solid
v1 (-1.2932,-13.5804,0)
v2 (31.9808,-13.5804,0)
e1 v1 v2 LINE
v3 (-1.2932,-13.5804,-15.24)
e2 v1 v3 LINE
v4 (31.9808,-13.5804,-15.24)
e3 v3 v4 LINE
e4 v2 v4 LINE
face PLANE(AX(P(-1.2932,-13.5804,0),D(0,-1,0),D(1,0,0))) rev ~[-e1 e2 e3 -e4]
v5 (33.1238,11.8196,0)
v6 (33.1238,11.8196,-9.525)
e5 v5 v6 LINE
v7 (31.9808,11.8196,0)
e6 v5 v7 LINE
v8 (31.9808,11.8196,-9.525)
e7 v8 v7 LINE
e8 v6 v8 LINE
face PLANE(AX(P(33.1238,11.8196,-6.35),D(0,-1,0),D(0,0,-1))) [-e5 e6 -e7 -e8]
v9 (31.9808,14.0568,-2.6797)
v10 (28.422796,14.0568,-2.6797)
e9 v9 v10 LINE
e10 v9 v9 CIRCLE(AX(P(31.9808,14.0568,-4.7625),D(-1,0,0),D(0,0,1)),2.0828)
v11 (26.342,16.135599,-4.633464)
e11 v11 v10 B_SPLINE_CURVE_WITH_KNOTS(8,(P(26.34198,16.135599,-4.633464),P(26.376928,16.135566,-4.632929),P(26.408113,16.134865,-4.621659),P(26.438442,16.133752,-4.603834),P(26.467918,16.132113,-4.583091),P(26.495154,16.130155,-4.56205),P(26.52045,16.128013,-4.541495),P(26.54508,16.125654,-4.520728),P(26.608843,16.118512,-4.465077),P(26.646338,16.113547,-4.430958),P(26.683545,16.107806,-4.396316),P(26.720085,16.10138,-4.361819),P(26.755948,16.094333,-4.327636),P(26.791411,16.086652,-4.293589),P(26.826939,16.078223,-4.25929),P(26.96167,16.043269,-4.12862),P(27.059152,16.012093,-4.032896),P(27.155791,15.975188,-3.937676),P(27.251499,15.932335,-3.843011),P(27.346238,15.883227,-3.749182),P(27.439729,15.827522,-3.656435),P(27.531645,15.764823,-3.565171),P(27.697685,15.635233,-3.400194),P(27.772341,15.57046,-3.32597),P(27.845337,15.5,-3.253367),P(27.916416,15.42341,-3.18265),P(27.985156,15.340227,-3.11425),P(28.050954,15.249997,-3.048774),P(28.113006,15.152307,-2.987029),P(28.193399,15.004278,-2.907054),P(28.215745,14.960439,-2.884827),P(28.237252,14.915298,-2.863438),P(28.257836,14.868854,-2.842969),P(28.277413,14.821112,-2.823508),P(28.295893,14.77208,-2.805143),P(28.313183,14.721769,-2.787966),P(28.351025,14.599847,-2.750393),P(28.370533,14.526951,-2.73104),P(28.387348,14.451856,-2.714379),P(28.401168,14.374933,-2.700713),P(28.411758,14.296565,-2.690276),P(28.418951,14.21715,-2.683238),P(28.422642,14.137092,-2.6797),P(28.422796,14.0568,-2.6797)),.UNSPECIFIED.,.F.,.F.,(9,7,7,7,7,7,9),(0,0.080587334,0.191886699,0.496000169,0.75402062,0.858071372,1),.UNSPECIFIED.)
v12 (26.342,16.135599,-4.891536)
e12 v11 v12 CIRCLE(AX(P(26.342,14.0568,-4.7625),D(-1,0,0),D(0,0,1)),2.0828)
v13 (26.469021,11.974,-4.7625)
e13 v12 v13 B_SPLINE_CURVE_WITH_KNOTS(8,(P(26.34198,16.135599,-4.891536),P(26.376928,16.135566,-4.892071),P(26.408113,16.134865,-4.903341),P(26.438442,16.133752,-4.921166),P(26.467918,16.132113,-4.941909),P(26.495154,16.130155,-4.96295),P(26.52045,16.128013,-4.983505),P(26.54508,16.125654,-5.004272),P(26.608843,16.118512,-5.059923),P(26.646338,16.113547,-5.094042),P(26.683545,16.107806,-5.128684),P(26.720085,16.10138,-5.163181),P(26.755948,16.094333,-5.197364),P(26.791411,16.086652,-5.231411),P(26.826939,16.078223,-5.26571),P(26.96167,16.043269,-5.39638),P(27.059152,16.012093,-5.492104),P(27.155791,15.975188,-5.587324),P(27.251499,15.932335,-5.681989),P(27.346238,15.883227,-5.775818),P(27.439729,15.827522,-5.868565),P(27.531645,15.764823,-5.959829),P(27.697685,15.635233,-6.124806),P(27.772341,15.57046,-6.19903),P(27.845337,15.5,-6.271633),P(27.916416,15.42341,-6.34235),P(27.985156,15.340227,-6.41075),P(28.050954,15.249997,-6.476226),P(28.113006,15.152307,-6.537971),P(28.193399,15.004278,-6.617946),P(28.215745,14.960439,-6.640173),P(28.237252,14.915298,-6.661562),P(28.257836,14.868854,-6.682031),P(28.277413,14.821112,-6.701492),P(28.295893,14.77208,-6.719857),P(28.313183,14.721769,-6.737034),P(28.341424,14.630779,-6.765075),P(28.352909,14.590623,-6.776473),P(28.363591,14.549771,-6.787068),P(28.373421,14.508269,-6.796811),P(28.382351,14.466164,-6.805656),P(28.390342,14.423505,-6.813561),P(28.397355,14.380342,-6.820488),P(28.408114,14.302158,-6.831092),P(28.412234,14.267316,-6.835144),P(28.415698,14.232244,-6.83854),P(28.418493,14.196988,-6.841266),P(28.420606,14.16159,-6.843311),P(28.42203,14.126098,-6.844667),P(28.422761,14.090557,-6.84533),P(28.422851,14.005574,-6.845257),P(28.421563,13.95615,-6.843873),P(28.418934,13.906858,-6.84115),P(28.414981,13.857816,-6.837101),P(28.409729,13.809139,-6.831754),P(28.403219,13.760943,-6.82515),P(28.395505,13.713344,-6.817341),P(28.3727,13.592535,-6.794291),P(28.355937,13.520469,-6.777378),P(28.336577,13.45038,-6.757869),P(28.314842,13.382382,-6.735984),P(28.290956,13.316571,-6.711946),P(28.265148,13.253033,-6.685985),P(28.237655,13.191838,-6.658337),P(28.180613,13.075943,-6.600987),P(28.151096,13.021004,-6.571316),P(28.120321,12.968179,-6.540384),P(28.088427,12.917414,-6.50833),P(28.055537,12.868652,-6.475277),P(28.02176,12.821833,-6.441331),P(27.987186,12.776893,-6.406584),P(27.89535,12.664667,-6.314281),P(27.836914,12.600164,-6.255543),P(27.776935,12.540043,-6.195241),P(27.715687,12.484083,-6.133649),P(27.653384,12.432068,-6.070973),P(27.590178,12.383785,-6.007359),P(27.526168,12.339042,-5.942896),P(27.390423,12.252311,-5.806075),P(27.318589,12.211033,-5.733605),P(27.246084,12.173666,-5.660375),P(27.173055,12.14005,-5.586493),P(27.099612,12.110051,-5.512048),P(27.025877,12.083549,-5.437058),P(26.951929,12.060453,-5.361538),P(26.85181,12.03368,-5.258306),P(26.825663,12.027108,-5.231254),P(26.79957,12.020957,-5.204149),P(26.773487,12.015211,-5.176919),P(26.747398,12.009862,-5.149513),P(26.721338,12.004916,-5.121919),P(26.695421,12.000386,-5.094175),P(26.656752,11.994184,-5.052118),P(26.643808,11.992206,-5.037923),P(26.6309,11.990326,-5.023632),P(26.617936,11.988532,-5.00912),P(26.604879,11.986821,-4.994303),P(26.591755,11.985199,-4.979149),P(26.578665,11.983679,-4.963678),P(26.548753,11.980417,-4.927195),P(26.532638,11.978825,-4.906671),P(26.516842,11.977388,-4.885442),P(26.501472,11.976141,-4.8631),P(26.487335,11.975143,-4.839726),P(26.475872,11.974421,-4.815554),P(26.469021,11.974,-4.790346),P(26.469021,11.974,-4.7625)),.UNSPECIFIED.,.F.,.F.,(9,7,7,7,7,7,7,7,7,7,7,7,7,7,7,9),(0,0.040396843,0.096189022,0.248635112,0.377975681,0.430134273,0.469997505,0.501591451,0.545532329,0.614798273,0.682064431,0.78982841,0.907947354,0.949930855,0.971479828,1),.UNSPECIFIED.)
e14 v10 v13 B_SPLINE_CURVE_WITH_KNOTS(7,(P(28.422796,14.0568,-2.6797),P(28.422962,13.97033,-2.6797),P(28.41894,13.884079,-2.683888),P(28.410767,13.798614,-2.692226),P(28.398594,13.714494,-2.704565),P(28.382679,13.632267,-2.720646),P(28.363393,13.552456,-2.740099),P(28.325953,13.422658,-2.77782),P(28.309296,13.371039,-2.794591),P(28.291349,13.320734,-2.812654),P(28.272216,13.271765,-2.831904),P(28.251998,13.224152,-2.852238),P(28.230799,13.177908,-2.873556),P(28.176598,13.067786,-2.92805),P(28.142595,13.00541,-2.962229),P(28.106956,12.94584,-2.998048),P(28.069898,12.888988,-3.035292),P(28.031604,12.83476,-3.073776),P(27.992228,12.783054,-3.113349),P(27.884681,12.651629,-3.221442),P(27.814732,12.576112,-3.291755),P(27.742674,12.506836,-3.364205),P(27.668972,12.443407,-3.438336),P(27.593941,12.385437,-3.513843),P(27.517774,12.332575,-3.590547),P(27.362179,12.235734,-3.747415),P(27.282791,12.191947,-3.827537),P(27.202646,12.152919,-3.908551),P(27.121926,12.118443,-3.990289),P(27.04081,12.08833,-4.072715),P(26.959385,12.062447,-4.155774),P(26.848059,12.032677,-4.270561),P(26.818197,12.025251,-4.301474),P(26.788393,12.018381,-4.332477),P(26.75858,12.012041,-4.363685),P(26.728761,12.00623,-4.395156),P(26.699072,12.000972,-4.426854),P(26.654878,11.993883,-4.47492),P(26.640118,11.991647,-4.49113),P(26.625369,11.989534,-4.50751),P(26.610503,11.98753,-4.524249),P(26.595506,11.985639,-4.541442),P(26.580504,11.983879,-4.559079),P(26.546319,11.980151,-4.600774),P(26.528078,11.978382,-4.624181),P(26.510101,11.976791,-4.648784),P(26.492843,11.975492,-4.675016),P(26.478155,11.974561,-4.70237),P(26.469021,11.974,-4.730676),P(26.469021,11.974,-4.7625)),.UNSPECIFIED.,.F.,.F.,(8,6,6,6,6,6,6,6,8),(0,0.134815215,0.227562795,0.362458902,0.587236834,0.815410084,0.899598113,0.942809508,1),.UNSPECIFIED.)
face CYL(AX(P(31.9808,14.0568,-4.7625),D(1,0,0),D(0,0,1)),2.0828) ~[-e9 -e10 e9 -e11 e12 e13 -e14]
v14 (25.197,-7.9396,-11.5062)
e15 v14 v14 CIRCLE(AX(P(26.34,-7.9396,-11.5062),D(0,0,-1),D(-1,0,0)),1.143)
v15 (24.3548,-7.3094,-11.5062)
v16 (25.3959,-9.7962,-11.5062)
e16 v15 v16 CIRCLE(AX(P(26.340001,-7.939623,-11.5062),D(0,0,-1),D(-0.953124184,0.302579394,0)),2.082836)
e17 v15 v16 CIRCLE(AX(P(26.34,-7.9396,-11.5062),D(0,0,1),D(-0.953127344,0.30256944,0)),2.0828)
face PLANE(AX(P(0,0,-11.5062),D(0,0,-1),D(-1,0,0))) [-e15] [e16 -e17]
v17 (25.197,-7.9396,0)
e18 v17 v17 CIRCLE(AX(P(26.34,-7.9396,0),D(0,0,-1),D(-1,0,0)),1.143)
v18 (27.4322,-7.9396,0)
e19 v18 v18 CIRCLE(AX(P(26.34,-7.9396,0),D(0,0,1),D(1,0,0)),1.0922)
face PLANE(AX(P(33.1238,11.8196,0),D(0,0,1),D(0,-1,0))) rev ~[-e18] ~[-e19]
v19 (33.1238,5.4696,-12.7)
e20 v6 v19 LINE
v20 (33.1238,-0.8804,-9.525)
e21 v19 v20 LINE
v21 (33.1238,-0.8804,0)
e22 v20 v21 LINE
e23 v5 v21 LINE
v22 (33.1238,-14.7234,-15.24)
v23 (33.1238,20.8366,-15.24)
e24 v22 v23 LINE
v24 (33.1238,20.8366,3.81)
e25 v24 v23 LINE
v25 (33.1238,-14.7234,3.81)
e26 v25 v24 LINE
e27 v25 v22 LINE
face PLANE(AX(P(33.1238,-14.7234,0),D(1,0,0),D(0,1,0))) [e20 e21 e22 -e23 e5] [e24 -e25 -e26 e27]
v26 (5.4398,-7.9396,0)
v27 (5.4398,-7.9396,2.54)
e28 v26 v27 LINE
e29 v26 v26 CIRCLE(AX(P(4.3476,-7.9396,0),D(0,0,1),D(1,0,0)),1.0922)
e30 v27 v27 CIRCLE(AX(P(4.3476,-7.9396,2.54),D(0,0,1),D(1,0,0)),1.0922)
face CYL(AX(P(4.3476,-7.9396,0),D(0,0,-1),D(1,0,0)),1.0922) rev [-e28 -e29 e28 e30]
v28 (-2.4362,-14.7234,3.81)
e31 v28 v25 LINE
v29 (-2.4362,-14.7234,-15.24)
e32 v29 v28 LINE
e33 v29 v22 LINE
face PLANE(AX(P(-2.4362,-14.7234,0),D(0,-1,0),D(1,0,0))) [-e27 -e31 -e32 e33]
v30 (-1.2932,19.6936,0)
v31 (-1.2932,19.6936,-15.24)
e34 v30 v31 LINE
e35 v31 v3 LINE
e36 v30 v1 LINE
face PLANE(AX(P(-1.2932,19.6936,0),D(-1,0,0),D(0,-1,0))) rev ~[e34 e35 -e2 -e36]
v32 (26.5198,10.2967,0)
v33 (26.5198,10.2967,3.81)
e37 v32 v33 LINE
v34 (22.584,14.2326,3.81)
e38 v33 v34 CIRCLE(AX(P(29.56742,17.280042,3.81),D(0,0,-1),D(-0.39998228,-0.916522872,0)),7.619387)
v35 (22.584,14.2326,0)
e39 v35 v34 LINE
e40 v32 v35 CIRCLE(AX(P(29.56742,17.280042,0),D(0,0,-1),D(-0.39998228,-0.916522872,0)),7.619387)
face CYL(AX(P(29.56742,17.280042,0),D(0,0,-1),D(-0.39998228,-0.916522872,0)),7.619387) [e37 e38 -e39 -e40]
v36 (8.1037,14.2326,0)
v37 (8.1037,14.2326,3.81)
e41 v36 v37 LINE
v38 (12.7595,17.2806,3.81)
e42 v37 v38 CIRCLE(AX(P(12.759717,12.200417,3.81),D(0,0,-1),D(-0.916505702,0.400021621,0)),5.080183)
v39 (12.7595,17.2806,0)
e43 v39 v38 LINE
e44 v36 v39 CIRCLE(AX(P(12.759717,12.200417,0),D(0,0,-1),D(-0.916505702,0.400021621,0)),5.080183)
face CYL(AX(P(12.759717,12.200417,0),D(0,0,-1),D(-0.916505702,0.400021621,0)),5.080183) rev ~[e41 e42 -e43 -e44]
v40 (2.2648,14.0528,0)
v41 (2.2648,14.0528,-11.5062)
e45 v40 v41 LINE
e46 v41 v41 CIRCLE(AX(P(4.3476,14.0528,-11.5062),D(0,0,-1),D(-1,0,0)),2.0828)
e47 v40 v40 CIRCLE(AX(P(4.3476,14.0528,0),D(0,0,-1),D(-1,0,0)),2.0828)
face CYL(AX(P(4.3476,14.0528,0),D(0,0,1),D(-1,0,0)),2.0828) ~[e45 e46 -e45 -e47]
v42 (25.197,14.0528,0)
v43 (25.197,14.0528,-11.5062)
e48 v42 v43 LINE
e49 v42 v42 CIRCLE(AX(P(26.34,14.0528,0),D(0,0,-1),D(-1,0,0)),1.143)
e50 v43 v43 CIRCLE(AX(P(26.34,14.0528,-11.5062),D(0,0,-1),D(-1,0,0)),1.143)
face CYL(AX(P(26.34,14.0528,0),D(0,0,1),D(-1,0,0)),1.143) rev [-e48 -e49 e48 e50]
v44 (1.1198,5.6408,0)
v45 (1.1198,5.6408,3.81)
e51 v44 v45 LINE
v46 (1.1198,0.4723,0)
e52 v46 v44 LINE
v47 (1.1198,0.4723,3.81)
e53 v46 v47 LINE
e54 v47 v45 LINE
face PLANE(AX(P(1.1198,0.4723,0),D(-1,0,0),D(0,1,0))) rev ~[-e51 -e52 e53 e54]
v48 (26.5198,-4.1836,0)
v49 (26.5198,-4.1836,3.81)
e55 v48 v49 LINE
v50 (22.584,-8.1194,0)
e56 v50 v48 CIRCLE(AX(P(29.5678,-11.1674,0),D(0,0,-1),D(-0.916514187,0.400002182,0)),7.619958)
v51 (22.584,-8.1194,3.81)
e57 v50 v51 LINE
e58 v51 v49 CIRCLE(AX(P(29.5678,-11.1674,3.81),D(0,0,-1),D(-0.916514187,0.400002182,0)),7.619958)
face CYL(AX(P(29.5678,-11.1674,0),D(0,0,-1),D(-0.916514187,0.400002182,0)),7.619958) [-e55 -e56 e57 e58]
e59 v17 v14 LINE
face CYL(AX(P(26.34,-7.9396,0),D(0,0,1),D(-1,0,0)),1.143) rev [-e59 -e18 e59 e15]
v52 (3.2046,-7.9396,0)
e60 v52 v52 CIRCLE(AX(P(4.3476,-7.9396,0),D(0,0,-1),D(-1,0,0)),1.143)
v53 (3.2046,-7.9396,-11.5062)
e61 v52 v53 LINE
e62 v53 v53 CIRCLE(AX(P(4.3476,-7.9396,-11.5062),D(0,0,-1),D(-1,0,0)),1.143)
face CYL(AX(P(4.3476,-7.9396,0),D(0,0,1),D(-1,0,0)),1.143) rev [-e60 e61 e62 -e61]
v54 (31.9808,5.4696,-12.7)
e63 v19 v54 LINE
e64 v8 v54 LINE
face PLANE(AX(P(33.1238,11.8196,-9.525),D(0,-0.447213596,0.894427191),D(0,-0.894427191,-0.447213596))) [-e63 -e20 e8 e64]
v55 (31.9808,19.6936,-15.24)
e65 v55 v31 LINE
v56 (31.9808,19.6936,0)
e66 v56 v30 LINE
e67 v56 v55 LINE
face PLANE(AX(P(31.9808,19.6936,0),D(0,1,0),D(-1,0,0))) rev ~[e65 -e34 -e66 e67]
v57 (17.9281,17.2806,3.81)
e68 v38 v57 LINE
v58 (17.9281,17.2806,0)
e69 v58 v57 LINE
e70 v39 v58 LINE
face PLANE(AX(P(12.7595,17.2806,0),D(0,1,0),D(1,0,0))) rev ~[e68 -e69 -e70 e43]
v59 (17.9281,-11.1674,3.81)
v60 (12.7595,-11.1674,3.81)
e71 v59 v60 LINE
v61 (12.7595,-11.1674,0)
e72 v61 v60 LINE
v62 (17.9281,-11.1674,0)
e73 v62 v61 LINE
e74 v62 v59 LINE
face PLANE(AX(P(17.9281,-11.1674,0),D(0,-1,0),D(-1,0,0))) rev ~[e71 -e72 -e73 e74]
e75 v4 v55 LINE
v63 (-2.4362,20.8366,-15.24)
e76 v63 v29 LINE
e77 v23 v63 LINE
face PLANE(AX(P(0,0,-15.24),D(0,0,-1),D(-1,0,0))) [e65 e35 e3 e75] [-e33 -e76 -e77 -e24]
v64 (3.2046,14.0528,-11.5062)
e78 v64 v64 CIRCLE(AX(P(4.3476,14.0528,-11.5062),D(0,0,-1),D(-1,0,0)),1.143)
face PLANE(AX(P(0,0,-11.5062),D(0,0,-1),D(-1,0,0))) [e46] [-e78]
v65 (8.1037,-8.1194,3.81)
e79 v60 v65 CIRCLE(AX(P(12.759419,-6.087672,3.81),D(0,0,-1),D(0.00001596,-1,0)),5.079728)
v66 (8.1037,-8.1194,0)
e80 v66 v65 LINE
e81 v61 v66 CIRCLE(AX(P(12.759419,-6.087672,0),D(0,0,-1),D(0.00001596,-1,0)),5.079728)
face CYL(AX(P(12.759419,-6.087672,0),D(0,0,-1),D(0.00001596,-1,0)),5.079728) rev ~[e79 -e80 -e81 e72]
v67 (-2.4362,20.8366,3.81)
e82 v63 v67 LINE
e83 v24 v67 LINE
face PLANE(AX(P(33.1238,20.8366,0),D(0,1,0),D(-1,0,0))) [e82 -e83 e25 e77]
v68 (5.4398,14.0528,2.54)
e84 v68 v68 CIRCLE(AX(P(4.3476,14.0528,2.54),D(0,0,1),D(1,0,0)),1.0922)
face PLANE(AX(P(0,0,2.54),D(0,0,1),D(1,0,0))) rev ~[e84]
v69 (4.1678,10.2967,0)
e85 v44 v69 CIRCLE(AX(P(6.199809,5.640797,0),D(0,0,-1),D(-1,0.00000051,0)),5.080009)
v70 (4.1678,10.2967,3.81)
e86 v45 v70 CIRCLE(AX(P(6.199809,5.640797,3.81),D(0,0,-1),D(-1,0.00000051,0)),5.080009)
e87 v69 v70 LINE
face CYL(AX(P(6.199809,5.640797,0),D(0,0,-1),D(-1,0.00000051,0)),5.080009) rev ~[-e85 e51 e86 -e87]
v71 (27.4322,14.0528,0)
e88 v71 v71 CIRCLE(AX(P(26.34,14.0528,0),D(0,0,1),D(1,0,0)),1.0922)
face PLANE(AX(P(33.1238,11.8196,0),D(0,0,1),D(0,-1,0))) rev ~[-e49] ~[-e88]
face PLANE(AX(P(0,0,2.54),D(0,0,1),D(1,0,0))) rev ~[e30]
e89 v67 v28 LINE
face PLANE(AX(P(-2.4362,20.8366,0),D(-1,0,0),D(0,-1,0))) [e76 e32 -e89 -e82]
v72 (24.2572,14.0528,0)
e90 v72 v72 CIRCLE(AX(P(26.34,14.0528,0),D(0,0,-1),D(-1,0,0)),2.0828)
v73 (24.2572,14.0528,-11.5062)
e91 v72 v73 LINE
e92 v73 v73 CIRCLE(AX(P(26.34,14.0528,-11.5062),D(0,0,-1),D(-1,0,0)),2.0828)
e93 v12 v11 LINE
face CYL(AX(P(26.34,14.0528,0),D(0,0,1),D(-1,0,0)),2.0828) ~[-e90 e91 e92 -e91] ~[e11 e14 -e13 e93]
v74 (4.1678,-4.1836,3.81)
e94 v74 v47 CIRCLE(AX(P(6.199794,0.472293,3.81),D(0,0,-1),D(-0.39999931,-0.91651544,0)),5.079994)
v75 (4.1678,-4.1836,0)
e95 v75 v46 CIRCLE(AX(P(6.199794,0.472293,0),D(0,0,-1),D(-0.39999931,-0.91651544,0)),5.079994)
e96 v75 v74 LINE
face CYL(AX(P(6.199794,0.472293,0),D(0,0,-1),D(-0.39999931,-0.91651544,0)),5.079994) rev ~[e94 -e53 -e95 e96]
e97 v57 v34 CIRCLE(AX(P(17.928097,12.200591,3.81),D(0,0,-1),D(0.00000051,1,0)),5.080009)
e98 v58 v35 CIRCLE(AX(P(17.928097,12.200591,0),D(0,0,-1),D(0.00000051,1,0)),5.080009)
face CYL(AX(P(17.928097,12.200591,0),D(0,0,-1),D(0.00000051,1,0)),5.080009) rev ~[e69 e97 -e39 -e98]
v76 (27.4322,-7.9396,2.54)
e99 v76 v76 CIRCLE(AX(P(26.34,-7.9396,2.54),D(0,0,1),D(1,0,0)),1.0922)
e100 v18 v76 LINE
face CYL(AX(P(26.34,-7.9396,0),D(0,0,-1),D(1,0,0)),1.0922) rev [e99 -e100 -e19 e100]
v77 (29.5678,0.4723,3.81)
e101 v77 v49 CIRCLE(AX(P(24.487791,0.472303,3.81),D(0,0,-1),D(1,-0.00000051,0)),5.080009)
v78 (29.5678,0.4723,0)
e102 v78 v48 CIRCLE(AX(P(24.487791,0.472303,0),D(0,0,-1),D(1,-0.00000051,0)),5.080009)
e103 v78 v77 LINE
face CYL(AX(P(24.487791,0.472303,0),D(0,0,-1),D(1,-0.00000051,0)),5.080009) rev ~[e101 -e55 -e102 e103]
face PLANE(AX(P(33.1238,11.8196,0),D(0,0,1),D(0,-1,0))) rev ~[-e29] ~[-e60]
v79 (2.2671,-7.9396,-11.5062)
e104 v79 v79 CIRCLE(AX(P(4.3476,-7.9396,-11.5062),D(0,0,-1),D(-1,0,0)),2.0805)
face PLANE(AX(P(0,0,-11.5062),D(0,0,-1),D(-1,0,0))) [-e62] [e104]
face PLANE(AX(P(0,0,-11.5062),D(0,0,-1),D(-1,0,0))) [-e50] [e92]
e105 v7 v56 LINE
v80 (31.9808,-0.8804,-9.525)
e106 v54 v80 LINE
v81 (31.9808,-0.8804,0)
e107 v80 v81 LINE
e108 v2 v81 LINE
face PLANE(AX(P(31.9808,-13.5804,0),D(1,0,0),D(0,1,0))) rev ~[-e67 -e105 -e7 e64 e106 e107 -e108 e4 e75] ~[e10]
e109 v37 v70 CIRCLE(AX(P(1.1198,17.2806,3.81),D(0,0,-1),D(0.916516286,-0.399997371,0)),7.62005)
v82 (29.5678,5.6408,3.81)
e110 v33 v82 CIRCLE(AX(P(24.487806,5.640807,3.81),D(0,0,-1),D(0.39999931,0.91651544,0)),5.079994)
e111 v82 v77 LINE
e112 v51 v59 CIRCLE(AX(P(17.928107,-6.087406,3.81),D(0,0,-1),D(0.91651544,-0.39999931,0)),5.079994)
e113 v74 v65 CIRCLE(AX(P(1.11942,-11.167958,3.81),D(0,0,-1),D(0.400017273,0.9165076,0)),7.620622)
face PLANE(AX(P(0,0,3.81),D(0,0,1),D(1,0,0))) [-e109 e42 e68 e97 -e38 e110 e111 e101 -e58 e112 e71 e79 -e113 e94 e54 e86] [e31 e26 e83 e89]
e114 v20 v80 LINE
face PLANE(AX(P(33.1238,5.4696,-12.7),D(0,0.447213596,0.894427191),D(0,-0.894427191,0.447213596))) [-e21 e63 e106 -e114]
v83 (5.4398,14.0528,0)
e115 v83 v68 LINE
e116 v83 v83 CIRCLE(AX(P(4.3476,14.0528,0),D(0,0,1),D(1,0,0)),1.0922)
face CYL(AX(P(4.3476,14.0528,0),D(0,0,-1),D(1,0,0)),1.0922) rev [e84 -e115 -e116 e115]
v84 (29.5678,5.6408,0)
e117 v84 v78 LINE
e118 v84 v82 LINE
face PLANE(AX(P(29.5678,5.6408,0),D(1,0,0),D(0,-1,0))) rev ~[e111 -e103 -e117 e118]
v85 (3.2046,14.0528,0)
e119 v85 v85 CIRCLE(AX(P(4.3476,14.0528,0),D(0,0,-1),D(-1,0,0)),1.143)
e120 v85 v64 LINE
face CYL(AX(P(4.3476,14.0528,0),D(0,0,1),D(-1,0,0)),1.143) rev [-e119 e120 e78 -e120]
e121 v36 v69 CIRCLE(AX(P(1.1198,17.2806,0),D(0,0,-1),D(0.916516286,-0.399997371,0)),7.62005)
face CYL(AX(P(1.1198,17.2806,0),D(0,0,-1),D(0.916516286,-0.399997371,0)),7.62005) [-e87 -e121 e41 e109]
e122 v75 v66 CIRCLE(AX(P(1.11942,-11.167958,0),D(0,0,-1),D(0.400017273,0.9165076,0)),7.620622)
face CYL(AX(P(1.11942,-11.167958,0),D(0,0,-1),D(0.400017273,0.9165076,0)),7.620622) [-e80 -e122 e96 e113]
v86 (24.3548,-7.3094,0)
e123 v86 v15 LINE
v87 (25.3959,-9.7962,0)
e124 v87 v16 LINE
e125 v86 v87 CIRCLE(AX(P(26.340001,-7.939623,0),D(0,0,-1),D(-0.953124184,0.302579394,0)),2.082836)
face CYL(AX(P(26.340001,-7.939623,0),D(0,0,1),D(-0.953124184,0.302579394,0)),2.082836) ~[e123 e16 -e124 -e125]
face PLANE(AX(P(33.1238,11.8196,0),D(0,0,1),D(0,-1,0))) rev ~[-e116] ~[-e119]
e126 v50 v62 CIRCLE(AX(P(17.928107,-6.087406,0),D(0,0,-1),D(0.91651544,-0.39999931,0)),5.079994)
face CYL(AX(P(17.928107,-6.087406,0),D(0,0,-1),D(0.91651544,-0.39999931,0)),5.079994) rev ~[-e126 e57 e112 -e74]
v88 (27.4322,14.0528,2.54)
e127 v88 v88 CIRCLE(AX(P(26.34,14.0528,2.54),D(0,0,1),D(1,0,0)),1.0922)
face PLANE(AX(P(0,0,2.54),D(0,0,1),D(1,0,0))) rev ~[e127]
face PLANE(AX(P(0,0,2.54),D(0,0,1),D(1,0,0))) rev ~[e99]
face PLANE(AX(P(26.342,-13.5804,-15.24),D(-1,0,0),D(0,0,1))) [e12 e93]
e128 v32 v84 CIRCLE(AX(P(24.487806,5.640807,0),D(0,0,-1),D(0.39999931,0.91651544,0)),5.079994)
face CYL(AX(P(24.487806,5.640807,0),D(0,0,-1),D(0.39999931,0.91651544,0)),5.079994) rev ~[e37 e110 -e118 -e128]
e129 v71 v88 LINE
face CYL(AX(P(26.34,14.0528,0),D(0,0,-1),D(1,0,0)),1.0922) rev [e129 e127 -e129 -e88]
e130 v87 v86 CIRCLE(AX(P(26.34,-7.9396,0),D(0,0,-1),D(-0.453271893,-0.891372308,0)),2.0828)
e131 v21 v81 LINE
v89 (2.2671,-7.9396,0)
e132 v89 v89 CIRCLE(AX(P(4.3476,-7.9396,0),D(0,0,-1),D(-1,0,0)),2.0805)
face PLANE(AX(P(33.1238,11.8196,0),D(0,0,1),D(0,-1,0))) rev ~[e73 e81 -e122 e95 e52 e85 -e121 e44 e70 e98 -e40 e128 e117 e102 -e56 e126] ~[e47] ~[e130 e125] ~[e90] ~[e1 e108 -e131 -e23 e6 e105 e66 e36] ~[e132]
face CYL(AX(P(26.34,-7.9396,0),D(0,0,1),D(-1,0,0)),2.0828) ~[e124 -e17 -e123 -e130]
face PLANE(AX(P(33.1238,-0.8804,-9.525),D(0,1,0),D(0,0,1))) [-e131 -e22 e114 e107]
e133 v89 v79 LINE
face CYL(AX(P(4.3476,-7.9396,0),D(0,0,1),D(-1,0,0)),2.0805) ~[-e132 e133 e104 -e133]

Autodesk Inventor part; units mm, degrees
ref_plane "YZ Plane" through (0, 0, 0) normal (1, 0, 0) x (0, 1, 0)
ref_plane "XZ Plane" through (0, 0, 0) normal (0, 1, 0) x (-1, 0, 0)
sketch "Sketch1" plane through (0, 0, 0) normal (0, 0, 1) x (1, 0, 0)
  line L0 (33.1238, 20.8366) -> (-2.4362, 20.8366)
  line L1 (-2.4362, 20.8366) -> (-2.4362, -14.7234)
  line L2 (-2.4362, -14.7234) -> (33.1238, -14.7234)
  line L3 (33.1238, -14.7234) -> (33.1238, 20.8366)
  circle A0 centre (4.3476, -7.9396) radius 1.0922
  circle A1 centre (26.34, -7.9396) radius 1.0922
  circle A2 centre (4.3476, 14.0528) radius 1.0922
  circle A3 centre (26.34, 14.0528) radius 1.0922
  line L4 (32.4234, 14.0528) -> (-3.1366, 14.0528) construction
  line L5 (31.7464, -7.9396) -> (-3.8136, -7.9396) construction
  line L6 (4.3476, 22.271) -> (4.3476, -13.289) construction
  line L7 (26.34, 20.1424) -> (26.34, -15.4176) construction
  point P0 (0, 0)
  dimension "CameraHole" = 2.1844
  dimension "BaseWidth" = 35.56
extrude "Base" add sketch "Sketch1" along normal blind 3.81
sketch "Sketch2" plane through (0, 0, 0) normal (0, 0, -1) x (-1, 0, 0)
  line L0 (-12.7595, 17.2806) -> (-17.9281, 17.2806)
  line L1 (-29.5678, 5.6408) -> (-29.5678, 0.4723)
  line L2 (-1.1198, 0.4723) -> (-1.1198, 5.6408)
  line L3 (2.4362, 20.8366) -> (2.4362, -14.7234) projected
  line L4 (2.4362, -14.7234) -> (-33.1238, -14.7234) projected
  line L5 (-33.1238, 20.8366) -> (2.4362, 20.8366) projected
  line L6 (-31.3438, -12.9434) -> (-31.3438, 19.0566) construction
  line L7 (-31.3438, 19.0566) -> (0.6562, 19.0566) construction
  line L8 (0.6562, 19.0566) -> (0.6562, -12.9434) construction
  circle A0 centre (-26.34, 14.0528) radius 1.0922 construction
  line L9 (-1.041, 19.0566) -> (-1.041, 20.8366) construction
  line L10 (-1.1198, 17.2806) -> (-29.5678, 17.2806)
  line L11 (-29.5678, 17.2806) -> (-29.5678, -11.1674)
  line L12 (-17.9281, -11.1674) -> (-12.7595, -11.1674)
  line L13 (-1.1198, -11.1674) -> (-1.1198, 17.2806)
  arc A1 (-26.5198, 10.2967) -> (-22.584, 14.2326) centre (-29.5678, 17.2806) ccw
  arc A2 (-22.584, -8.1194) -> (-26.5198, -4.1836) centre (-29.5678, -11.1674) ccw
  arc A3 (-4.1678, -4.1836) -> (-8.1037, -8.1194) centre (-1.1198, -11.1674) ccw
  arc A4 (-8.1037, 14.2326) -> (-4.1678, 10.2967) centre (-1.1198, 17.2806) ccw
  arc A5 (-29.5678, 0.4723) -> (-26.5198, -4.1836) centre (-24.4878, 0.4723) ccw
  arc A6 (-26.5198, 10.2967) -> (-29.5678, 5.6408) centre (-24.4878, 5.6408) ccw
  arc A7 (-17.9281, 17.2806) -> (-22.584, 14.2326) centre (-17.9281, 12.2006) ccw
  arc A8 (-8.1037, 14.2326) -> (-12.7595, 17.2806) centre (-12.7595, 12.2006) ccw
  arc A9 (-1.1198, 5.6408) -> (-4.1678, 10.2967) centre (-6.1998, 5.6408) ccw
  arc A10 (-4.1678, -4.1836) -> (-1.1198, 0.4723) centre (-6.1998, 0.4723) ccw
  arc A11 (-12.7595, -11.1674) -> (-8.1037, -8.1194) centre (-12.7595, -6.0874) ccw
  arc A12 (-22.584, -8.1194) -> (-17.9281, -11.1674) centre (-17.9281, -6.0874) ccw
  point P0 (-29.5678, 9.6606)
  point P1 (-21.9478, 17.2806)
  point P2 (-21.9478, -11.1674)
  point P3 (-29.5678, -3.5474)
  point P4 (-1.1198, -3.5474)
  point P5 (-8.7398, -11.1674)
  point P6 (-8.7398, 17.2806)
  point P7 (-1.1198, 9.6606)
  dimension "d13" = 3.556
  dimension "d16" = 3.556
  dimension "d38" = 32
  dimension "d101" = 28.448
  dimension "d102" = 7.62
  dimension "d103" = 7.62
  dimension "d104" = 7.62
  dimension "d105" = 7.62
  dimension "d106" = 5.08
extrude "Open Back" cut sketch "Sketch2" against normal blind 3.81 contours A8 A4 A9 L2 A10 A3 A11 L12 A12 A2 A5 L1 A6 A1 A7 L0
sketch "Sketch4" plane through (0, 0, 0) normal (0, 0, -1) x (-1, 0, 0)
  line L0 (-33.1238, 20.8366) -> (2.4362, 20.8366)
  line L1 (2.4362, 20.8366) -> (2.4362, -14.7234)
  line L2 (2.4362, -14.7234) -> (-33.1238, -14.7234)
  line L3 (-33.1238, -14.7234) -> (-33.1238, 20.8366)
  line L4 (1.2932, -13.5804) -> (-31.9808, -13.5804)
  line L5 (-31.9808, -13.5804) -> (-31.9808, 19.6936)
  line L6 (-31.9808, 19.6936) -> (1.2932, 19.6936)
  line L7 (1.2932, 19.6936) -> (1.2932, -13.5804)
  point P0 (0, 0)
  dimension "d32" = 1.143
  dimension "d33" = 1.143
  dimension "d34" = 1.143
  dimension "d35" = 1.143
extrude "Housing" add sketch "Sketch4" along normal blind 15.24
ref_plane "Work Plane1" through (0, 0, -15.24) normal (0, 0, -1) x (-1, 0, 0)
sketch "Sketch10" plane through (0, 0, 3.81) normal (0, 0, 1) x (1, 0, 0)
  circle A0 centre (4.3476, 14.0528) radius 1.0922 projected
  circle A1 centre (4.3476, 14.0528) radius 1.0922
  circle A2 centre (4.3476, -7.9396) radius 1.0922 projected
  circle A3 centre (4.3476, -7.9396) radius 1.0922
  circle A4 centre (26.34, -7.9396) radius 1.0922 projected
  circle A5 centre (26.34, -7.9396) radius 1.0922
  circle A6 centre (26.34, 14.0528) radius 1.0922 projected
  circle A7 centre (26.34, 14.0528) radius 1.0922
  point P0 (0, 0)
extrude "HoleClosing" add sketch "Sketch10" against normal blind 1.27
sketch "Sketch15" plane through (33.1238, -14.7234, 3.81) normal (1, 0, 0) x (0, 0, -1)
  line L0 (3.81, 34.417) -> (19.05, 34.417) projected
  line L1 (3.81, 34.417) -> (3.81, 1.143) projected
  line L2 (3.81, 1.143) -> (19.05, 1.143) projected
  line L3 (19.05, 34.417) -> (19.05, 1.143) projected
  line L4 (19.05, 34.417) -> (10.16, 34.417)
  line L5 (10.16, 34.417) -> (10.16, 20.193)
  line L6 (13.335, 13.843) -> (3.81, 13.843)
  line L7 (3.81, 13.843) -> (3.81, 26.543)
  line L8 (3.81, 26.543) -> (13.335, 26.543)
  line L9 (10.16, 26.543) -> (13.335, 26.543)
  line L10 (13.335, 26.543) -> (16.51, 20.193)
  line L11 (16.51, 20.193) -> (13.335, 13.843)
  line L12 (10.16, 20.193) -> (3.81, 26.543) construction
  line L13 (10.16, 20.193) -> (3.81, 13.843) construction
  point P0 (3.81, 26.543)
  point P1 (3.81, 13.843)
  dimension "d107" = 8.89
  dimension "d108" = 14.224
extrude "Cable Hole" cut sketch "Sketch15" against normal blind 3.81 contours L8 L10 L11 L6 L1
sketch "Sketch3" plane through (0, 0, 0) normal (0, 0, -1) x (-1, 0, 0)
  circle A0 centre (-4.3476, -7.9396) radius 1.143
  circle A1 centre (-4.3476, -7.9396) radius 2.0805
  circle A2 centre (-4.3476, -7.9396) radius 1.0922 projected
  line L0 (-19.1558, -6.3775) -> (-19.1558, -11.4067) projected
  circle A3 centre (-4.3476, 14.0528) radius 1.143
  circle A4 centre (-4.3476, 14.0528) radius 2.0828
  circle A5 centre (-4.3476, 14.0528) radius 1.0922 projected
  circle A6 centre (-26.34, 14.0528) radius 2.0828
  circle A7 centre (-26.34, 14.0528) radius 1.143
  circle A8 centre (-26.34, 14.0528) radius 1.0922 projected
  arc A9 (-24.3548, -7.3094) -> (-25.3959, -9.7962) centre (-26.34, -7.9396) ccw
  circle A10 centre (-26.34, -7.9396) radius 1.143
  circle A11 centre (-26.34, -7.9396) radius 1.0922 projected
  circle A12 centre (-26.34, -7.9396) radius 2.0828
  point P0 (0, 0)
  point P1 (-24.3548, -7.3094)
  dimension "d21" = 0.9375
  dimension "d26" = 2.286
  dimension "d30" = 2.286
  dimension "d31" = 0.9398
extrude "Pegs" add sketch "Sketch3" along normal blind 11.5062 contours A1 | A4 | A6 | A12 A9
sketch "Sketch16" plane through (31.9808, -13.5804, -15.24) normal (-1, 0, 0) x (0, 0, 1)
  line L0 (15.24, 3.558) -> (3.7338, 3.558) projected
  line L1 (15.24, 7.7236) -> (3.7338, 7.7236) projected
  line L2 (3.7338, 7.7236) -> (3.7338, 3.558)
  line L3 (15.24, 12.7) -> (15.24, 0) projected
  line L4 (3.7338, 7.7236) -> (15.24, 7.7236)
  line L5 (15.24, 7.7236) -> (15.24, 3.558)
  line L6 (15.24, 3.558) -> (3.7338, 3.558)
  circle A0 centre (10.4775, 5.6408) radius 2.0828
  line L7 (12.065, 10.414) -> (12.065, 6.9891)
  line L8 (12.065, 4.2925) -> (12.065, 0)
  line L9 (15.24, 5.6408) -> (12.5603, 5.6408)
  line L10 (8.3947, 5.6408) -> (3.7338, 5.6408)
  line L11 (10.4775, 10.414) -> (10.4775, 7.7236)
  line L12 (10.4775, 3.558) -> (10.4775, 0)
  line L13 (8.89, 10.414) -> (8.89, 6.9891)
  line L14 (8.89, 4.2925) -> (8.89, 0)
  line L15 (10.4775, 5.6408) -> (10.4775, 27.6372)
  circle A1 centre (10.4775, 27.6372) radius 2.0828
  dimension "d116" = 21.9964
  dimension "d117" = 4.1656
extrude "Zip-Tie Attachment" add sketch "Sketch16" along normal blind 5.6388 contours A1
sketch "Sketch17" plane through (26.34, 14.0528, -11.5062) normal (0, 0, -1) x (-1, 0, 0)
  circle A0 centre (0, 0) radius 1.143 projected
  circle A1 centre (0, 0) radius 1.143
extrude "top left hole" cut sketch "Sketch17" against normal blind 11.5062
equation "\"CameraHole\" = CameraHole_1"
equation "\"BaseWidth\" = BaseWidth_1"
equation "\"d16\" = UsbHoletoWall"
equation "\"BaseWidth_1\" = 35.56"
equation "\"CameraHole_1\" = 2.1844"
equation "\"ZiptieHole\" = 5.08"
equation "\"ZiptieHoletoHoleDistance\" = 2 * ZiptieRadius + WireThickness"
equation "\"WireThickness\" = 4.064"
equation "\"ZiptieRadius\" = 2.54"
equation "\"ZiptieToSide\" = 8.89"
equation "\"UsbHoletoWall\" = 3.556"
equation "\"WasherHolder\" = 12.7"
properties part number "V2_MountHousing_3DPrint"
